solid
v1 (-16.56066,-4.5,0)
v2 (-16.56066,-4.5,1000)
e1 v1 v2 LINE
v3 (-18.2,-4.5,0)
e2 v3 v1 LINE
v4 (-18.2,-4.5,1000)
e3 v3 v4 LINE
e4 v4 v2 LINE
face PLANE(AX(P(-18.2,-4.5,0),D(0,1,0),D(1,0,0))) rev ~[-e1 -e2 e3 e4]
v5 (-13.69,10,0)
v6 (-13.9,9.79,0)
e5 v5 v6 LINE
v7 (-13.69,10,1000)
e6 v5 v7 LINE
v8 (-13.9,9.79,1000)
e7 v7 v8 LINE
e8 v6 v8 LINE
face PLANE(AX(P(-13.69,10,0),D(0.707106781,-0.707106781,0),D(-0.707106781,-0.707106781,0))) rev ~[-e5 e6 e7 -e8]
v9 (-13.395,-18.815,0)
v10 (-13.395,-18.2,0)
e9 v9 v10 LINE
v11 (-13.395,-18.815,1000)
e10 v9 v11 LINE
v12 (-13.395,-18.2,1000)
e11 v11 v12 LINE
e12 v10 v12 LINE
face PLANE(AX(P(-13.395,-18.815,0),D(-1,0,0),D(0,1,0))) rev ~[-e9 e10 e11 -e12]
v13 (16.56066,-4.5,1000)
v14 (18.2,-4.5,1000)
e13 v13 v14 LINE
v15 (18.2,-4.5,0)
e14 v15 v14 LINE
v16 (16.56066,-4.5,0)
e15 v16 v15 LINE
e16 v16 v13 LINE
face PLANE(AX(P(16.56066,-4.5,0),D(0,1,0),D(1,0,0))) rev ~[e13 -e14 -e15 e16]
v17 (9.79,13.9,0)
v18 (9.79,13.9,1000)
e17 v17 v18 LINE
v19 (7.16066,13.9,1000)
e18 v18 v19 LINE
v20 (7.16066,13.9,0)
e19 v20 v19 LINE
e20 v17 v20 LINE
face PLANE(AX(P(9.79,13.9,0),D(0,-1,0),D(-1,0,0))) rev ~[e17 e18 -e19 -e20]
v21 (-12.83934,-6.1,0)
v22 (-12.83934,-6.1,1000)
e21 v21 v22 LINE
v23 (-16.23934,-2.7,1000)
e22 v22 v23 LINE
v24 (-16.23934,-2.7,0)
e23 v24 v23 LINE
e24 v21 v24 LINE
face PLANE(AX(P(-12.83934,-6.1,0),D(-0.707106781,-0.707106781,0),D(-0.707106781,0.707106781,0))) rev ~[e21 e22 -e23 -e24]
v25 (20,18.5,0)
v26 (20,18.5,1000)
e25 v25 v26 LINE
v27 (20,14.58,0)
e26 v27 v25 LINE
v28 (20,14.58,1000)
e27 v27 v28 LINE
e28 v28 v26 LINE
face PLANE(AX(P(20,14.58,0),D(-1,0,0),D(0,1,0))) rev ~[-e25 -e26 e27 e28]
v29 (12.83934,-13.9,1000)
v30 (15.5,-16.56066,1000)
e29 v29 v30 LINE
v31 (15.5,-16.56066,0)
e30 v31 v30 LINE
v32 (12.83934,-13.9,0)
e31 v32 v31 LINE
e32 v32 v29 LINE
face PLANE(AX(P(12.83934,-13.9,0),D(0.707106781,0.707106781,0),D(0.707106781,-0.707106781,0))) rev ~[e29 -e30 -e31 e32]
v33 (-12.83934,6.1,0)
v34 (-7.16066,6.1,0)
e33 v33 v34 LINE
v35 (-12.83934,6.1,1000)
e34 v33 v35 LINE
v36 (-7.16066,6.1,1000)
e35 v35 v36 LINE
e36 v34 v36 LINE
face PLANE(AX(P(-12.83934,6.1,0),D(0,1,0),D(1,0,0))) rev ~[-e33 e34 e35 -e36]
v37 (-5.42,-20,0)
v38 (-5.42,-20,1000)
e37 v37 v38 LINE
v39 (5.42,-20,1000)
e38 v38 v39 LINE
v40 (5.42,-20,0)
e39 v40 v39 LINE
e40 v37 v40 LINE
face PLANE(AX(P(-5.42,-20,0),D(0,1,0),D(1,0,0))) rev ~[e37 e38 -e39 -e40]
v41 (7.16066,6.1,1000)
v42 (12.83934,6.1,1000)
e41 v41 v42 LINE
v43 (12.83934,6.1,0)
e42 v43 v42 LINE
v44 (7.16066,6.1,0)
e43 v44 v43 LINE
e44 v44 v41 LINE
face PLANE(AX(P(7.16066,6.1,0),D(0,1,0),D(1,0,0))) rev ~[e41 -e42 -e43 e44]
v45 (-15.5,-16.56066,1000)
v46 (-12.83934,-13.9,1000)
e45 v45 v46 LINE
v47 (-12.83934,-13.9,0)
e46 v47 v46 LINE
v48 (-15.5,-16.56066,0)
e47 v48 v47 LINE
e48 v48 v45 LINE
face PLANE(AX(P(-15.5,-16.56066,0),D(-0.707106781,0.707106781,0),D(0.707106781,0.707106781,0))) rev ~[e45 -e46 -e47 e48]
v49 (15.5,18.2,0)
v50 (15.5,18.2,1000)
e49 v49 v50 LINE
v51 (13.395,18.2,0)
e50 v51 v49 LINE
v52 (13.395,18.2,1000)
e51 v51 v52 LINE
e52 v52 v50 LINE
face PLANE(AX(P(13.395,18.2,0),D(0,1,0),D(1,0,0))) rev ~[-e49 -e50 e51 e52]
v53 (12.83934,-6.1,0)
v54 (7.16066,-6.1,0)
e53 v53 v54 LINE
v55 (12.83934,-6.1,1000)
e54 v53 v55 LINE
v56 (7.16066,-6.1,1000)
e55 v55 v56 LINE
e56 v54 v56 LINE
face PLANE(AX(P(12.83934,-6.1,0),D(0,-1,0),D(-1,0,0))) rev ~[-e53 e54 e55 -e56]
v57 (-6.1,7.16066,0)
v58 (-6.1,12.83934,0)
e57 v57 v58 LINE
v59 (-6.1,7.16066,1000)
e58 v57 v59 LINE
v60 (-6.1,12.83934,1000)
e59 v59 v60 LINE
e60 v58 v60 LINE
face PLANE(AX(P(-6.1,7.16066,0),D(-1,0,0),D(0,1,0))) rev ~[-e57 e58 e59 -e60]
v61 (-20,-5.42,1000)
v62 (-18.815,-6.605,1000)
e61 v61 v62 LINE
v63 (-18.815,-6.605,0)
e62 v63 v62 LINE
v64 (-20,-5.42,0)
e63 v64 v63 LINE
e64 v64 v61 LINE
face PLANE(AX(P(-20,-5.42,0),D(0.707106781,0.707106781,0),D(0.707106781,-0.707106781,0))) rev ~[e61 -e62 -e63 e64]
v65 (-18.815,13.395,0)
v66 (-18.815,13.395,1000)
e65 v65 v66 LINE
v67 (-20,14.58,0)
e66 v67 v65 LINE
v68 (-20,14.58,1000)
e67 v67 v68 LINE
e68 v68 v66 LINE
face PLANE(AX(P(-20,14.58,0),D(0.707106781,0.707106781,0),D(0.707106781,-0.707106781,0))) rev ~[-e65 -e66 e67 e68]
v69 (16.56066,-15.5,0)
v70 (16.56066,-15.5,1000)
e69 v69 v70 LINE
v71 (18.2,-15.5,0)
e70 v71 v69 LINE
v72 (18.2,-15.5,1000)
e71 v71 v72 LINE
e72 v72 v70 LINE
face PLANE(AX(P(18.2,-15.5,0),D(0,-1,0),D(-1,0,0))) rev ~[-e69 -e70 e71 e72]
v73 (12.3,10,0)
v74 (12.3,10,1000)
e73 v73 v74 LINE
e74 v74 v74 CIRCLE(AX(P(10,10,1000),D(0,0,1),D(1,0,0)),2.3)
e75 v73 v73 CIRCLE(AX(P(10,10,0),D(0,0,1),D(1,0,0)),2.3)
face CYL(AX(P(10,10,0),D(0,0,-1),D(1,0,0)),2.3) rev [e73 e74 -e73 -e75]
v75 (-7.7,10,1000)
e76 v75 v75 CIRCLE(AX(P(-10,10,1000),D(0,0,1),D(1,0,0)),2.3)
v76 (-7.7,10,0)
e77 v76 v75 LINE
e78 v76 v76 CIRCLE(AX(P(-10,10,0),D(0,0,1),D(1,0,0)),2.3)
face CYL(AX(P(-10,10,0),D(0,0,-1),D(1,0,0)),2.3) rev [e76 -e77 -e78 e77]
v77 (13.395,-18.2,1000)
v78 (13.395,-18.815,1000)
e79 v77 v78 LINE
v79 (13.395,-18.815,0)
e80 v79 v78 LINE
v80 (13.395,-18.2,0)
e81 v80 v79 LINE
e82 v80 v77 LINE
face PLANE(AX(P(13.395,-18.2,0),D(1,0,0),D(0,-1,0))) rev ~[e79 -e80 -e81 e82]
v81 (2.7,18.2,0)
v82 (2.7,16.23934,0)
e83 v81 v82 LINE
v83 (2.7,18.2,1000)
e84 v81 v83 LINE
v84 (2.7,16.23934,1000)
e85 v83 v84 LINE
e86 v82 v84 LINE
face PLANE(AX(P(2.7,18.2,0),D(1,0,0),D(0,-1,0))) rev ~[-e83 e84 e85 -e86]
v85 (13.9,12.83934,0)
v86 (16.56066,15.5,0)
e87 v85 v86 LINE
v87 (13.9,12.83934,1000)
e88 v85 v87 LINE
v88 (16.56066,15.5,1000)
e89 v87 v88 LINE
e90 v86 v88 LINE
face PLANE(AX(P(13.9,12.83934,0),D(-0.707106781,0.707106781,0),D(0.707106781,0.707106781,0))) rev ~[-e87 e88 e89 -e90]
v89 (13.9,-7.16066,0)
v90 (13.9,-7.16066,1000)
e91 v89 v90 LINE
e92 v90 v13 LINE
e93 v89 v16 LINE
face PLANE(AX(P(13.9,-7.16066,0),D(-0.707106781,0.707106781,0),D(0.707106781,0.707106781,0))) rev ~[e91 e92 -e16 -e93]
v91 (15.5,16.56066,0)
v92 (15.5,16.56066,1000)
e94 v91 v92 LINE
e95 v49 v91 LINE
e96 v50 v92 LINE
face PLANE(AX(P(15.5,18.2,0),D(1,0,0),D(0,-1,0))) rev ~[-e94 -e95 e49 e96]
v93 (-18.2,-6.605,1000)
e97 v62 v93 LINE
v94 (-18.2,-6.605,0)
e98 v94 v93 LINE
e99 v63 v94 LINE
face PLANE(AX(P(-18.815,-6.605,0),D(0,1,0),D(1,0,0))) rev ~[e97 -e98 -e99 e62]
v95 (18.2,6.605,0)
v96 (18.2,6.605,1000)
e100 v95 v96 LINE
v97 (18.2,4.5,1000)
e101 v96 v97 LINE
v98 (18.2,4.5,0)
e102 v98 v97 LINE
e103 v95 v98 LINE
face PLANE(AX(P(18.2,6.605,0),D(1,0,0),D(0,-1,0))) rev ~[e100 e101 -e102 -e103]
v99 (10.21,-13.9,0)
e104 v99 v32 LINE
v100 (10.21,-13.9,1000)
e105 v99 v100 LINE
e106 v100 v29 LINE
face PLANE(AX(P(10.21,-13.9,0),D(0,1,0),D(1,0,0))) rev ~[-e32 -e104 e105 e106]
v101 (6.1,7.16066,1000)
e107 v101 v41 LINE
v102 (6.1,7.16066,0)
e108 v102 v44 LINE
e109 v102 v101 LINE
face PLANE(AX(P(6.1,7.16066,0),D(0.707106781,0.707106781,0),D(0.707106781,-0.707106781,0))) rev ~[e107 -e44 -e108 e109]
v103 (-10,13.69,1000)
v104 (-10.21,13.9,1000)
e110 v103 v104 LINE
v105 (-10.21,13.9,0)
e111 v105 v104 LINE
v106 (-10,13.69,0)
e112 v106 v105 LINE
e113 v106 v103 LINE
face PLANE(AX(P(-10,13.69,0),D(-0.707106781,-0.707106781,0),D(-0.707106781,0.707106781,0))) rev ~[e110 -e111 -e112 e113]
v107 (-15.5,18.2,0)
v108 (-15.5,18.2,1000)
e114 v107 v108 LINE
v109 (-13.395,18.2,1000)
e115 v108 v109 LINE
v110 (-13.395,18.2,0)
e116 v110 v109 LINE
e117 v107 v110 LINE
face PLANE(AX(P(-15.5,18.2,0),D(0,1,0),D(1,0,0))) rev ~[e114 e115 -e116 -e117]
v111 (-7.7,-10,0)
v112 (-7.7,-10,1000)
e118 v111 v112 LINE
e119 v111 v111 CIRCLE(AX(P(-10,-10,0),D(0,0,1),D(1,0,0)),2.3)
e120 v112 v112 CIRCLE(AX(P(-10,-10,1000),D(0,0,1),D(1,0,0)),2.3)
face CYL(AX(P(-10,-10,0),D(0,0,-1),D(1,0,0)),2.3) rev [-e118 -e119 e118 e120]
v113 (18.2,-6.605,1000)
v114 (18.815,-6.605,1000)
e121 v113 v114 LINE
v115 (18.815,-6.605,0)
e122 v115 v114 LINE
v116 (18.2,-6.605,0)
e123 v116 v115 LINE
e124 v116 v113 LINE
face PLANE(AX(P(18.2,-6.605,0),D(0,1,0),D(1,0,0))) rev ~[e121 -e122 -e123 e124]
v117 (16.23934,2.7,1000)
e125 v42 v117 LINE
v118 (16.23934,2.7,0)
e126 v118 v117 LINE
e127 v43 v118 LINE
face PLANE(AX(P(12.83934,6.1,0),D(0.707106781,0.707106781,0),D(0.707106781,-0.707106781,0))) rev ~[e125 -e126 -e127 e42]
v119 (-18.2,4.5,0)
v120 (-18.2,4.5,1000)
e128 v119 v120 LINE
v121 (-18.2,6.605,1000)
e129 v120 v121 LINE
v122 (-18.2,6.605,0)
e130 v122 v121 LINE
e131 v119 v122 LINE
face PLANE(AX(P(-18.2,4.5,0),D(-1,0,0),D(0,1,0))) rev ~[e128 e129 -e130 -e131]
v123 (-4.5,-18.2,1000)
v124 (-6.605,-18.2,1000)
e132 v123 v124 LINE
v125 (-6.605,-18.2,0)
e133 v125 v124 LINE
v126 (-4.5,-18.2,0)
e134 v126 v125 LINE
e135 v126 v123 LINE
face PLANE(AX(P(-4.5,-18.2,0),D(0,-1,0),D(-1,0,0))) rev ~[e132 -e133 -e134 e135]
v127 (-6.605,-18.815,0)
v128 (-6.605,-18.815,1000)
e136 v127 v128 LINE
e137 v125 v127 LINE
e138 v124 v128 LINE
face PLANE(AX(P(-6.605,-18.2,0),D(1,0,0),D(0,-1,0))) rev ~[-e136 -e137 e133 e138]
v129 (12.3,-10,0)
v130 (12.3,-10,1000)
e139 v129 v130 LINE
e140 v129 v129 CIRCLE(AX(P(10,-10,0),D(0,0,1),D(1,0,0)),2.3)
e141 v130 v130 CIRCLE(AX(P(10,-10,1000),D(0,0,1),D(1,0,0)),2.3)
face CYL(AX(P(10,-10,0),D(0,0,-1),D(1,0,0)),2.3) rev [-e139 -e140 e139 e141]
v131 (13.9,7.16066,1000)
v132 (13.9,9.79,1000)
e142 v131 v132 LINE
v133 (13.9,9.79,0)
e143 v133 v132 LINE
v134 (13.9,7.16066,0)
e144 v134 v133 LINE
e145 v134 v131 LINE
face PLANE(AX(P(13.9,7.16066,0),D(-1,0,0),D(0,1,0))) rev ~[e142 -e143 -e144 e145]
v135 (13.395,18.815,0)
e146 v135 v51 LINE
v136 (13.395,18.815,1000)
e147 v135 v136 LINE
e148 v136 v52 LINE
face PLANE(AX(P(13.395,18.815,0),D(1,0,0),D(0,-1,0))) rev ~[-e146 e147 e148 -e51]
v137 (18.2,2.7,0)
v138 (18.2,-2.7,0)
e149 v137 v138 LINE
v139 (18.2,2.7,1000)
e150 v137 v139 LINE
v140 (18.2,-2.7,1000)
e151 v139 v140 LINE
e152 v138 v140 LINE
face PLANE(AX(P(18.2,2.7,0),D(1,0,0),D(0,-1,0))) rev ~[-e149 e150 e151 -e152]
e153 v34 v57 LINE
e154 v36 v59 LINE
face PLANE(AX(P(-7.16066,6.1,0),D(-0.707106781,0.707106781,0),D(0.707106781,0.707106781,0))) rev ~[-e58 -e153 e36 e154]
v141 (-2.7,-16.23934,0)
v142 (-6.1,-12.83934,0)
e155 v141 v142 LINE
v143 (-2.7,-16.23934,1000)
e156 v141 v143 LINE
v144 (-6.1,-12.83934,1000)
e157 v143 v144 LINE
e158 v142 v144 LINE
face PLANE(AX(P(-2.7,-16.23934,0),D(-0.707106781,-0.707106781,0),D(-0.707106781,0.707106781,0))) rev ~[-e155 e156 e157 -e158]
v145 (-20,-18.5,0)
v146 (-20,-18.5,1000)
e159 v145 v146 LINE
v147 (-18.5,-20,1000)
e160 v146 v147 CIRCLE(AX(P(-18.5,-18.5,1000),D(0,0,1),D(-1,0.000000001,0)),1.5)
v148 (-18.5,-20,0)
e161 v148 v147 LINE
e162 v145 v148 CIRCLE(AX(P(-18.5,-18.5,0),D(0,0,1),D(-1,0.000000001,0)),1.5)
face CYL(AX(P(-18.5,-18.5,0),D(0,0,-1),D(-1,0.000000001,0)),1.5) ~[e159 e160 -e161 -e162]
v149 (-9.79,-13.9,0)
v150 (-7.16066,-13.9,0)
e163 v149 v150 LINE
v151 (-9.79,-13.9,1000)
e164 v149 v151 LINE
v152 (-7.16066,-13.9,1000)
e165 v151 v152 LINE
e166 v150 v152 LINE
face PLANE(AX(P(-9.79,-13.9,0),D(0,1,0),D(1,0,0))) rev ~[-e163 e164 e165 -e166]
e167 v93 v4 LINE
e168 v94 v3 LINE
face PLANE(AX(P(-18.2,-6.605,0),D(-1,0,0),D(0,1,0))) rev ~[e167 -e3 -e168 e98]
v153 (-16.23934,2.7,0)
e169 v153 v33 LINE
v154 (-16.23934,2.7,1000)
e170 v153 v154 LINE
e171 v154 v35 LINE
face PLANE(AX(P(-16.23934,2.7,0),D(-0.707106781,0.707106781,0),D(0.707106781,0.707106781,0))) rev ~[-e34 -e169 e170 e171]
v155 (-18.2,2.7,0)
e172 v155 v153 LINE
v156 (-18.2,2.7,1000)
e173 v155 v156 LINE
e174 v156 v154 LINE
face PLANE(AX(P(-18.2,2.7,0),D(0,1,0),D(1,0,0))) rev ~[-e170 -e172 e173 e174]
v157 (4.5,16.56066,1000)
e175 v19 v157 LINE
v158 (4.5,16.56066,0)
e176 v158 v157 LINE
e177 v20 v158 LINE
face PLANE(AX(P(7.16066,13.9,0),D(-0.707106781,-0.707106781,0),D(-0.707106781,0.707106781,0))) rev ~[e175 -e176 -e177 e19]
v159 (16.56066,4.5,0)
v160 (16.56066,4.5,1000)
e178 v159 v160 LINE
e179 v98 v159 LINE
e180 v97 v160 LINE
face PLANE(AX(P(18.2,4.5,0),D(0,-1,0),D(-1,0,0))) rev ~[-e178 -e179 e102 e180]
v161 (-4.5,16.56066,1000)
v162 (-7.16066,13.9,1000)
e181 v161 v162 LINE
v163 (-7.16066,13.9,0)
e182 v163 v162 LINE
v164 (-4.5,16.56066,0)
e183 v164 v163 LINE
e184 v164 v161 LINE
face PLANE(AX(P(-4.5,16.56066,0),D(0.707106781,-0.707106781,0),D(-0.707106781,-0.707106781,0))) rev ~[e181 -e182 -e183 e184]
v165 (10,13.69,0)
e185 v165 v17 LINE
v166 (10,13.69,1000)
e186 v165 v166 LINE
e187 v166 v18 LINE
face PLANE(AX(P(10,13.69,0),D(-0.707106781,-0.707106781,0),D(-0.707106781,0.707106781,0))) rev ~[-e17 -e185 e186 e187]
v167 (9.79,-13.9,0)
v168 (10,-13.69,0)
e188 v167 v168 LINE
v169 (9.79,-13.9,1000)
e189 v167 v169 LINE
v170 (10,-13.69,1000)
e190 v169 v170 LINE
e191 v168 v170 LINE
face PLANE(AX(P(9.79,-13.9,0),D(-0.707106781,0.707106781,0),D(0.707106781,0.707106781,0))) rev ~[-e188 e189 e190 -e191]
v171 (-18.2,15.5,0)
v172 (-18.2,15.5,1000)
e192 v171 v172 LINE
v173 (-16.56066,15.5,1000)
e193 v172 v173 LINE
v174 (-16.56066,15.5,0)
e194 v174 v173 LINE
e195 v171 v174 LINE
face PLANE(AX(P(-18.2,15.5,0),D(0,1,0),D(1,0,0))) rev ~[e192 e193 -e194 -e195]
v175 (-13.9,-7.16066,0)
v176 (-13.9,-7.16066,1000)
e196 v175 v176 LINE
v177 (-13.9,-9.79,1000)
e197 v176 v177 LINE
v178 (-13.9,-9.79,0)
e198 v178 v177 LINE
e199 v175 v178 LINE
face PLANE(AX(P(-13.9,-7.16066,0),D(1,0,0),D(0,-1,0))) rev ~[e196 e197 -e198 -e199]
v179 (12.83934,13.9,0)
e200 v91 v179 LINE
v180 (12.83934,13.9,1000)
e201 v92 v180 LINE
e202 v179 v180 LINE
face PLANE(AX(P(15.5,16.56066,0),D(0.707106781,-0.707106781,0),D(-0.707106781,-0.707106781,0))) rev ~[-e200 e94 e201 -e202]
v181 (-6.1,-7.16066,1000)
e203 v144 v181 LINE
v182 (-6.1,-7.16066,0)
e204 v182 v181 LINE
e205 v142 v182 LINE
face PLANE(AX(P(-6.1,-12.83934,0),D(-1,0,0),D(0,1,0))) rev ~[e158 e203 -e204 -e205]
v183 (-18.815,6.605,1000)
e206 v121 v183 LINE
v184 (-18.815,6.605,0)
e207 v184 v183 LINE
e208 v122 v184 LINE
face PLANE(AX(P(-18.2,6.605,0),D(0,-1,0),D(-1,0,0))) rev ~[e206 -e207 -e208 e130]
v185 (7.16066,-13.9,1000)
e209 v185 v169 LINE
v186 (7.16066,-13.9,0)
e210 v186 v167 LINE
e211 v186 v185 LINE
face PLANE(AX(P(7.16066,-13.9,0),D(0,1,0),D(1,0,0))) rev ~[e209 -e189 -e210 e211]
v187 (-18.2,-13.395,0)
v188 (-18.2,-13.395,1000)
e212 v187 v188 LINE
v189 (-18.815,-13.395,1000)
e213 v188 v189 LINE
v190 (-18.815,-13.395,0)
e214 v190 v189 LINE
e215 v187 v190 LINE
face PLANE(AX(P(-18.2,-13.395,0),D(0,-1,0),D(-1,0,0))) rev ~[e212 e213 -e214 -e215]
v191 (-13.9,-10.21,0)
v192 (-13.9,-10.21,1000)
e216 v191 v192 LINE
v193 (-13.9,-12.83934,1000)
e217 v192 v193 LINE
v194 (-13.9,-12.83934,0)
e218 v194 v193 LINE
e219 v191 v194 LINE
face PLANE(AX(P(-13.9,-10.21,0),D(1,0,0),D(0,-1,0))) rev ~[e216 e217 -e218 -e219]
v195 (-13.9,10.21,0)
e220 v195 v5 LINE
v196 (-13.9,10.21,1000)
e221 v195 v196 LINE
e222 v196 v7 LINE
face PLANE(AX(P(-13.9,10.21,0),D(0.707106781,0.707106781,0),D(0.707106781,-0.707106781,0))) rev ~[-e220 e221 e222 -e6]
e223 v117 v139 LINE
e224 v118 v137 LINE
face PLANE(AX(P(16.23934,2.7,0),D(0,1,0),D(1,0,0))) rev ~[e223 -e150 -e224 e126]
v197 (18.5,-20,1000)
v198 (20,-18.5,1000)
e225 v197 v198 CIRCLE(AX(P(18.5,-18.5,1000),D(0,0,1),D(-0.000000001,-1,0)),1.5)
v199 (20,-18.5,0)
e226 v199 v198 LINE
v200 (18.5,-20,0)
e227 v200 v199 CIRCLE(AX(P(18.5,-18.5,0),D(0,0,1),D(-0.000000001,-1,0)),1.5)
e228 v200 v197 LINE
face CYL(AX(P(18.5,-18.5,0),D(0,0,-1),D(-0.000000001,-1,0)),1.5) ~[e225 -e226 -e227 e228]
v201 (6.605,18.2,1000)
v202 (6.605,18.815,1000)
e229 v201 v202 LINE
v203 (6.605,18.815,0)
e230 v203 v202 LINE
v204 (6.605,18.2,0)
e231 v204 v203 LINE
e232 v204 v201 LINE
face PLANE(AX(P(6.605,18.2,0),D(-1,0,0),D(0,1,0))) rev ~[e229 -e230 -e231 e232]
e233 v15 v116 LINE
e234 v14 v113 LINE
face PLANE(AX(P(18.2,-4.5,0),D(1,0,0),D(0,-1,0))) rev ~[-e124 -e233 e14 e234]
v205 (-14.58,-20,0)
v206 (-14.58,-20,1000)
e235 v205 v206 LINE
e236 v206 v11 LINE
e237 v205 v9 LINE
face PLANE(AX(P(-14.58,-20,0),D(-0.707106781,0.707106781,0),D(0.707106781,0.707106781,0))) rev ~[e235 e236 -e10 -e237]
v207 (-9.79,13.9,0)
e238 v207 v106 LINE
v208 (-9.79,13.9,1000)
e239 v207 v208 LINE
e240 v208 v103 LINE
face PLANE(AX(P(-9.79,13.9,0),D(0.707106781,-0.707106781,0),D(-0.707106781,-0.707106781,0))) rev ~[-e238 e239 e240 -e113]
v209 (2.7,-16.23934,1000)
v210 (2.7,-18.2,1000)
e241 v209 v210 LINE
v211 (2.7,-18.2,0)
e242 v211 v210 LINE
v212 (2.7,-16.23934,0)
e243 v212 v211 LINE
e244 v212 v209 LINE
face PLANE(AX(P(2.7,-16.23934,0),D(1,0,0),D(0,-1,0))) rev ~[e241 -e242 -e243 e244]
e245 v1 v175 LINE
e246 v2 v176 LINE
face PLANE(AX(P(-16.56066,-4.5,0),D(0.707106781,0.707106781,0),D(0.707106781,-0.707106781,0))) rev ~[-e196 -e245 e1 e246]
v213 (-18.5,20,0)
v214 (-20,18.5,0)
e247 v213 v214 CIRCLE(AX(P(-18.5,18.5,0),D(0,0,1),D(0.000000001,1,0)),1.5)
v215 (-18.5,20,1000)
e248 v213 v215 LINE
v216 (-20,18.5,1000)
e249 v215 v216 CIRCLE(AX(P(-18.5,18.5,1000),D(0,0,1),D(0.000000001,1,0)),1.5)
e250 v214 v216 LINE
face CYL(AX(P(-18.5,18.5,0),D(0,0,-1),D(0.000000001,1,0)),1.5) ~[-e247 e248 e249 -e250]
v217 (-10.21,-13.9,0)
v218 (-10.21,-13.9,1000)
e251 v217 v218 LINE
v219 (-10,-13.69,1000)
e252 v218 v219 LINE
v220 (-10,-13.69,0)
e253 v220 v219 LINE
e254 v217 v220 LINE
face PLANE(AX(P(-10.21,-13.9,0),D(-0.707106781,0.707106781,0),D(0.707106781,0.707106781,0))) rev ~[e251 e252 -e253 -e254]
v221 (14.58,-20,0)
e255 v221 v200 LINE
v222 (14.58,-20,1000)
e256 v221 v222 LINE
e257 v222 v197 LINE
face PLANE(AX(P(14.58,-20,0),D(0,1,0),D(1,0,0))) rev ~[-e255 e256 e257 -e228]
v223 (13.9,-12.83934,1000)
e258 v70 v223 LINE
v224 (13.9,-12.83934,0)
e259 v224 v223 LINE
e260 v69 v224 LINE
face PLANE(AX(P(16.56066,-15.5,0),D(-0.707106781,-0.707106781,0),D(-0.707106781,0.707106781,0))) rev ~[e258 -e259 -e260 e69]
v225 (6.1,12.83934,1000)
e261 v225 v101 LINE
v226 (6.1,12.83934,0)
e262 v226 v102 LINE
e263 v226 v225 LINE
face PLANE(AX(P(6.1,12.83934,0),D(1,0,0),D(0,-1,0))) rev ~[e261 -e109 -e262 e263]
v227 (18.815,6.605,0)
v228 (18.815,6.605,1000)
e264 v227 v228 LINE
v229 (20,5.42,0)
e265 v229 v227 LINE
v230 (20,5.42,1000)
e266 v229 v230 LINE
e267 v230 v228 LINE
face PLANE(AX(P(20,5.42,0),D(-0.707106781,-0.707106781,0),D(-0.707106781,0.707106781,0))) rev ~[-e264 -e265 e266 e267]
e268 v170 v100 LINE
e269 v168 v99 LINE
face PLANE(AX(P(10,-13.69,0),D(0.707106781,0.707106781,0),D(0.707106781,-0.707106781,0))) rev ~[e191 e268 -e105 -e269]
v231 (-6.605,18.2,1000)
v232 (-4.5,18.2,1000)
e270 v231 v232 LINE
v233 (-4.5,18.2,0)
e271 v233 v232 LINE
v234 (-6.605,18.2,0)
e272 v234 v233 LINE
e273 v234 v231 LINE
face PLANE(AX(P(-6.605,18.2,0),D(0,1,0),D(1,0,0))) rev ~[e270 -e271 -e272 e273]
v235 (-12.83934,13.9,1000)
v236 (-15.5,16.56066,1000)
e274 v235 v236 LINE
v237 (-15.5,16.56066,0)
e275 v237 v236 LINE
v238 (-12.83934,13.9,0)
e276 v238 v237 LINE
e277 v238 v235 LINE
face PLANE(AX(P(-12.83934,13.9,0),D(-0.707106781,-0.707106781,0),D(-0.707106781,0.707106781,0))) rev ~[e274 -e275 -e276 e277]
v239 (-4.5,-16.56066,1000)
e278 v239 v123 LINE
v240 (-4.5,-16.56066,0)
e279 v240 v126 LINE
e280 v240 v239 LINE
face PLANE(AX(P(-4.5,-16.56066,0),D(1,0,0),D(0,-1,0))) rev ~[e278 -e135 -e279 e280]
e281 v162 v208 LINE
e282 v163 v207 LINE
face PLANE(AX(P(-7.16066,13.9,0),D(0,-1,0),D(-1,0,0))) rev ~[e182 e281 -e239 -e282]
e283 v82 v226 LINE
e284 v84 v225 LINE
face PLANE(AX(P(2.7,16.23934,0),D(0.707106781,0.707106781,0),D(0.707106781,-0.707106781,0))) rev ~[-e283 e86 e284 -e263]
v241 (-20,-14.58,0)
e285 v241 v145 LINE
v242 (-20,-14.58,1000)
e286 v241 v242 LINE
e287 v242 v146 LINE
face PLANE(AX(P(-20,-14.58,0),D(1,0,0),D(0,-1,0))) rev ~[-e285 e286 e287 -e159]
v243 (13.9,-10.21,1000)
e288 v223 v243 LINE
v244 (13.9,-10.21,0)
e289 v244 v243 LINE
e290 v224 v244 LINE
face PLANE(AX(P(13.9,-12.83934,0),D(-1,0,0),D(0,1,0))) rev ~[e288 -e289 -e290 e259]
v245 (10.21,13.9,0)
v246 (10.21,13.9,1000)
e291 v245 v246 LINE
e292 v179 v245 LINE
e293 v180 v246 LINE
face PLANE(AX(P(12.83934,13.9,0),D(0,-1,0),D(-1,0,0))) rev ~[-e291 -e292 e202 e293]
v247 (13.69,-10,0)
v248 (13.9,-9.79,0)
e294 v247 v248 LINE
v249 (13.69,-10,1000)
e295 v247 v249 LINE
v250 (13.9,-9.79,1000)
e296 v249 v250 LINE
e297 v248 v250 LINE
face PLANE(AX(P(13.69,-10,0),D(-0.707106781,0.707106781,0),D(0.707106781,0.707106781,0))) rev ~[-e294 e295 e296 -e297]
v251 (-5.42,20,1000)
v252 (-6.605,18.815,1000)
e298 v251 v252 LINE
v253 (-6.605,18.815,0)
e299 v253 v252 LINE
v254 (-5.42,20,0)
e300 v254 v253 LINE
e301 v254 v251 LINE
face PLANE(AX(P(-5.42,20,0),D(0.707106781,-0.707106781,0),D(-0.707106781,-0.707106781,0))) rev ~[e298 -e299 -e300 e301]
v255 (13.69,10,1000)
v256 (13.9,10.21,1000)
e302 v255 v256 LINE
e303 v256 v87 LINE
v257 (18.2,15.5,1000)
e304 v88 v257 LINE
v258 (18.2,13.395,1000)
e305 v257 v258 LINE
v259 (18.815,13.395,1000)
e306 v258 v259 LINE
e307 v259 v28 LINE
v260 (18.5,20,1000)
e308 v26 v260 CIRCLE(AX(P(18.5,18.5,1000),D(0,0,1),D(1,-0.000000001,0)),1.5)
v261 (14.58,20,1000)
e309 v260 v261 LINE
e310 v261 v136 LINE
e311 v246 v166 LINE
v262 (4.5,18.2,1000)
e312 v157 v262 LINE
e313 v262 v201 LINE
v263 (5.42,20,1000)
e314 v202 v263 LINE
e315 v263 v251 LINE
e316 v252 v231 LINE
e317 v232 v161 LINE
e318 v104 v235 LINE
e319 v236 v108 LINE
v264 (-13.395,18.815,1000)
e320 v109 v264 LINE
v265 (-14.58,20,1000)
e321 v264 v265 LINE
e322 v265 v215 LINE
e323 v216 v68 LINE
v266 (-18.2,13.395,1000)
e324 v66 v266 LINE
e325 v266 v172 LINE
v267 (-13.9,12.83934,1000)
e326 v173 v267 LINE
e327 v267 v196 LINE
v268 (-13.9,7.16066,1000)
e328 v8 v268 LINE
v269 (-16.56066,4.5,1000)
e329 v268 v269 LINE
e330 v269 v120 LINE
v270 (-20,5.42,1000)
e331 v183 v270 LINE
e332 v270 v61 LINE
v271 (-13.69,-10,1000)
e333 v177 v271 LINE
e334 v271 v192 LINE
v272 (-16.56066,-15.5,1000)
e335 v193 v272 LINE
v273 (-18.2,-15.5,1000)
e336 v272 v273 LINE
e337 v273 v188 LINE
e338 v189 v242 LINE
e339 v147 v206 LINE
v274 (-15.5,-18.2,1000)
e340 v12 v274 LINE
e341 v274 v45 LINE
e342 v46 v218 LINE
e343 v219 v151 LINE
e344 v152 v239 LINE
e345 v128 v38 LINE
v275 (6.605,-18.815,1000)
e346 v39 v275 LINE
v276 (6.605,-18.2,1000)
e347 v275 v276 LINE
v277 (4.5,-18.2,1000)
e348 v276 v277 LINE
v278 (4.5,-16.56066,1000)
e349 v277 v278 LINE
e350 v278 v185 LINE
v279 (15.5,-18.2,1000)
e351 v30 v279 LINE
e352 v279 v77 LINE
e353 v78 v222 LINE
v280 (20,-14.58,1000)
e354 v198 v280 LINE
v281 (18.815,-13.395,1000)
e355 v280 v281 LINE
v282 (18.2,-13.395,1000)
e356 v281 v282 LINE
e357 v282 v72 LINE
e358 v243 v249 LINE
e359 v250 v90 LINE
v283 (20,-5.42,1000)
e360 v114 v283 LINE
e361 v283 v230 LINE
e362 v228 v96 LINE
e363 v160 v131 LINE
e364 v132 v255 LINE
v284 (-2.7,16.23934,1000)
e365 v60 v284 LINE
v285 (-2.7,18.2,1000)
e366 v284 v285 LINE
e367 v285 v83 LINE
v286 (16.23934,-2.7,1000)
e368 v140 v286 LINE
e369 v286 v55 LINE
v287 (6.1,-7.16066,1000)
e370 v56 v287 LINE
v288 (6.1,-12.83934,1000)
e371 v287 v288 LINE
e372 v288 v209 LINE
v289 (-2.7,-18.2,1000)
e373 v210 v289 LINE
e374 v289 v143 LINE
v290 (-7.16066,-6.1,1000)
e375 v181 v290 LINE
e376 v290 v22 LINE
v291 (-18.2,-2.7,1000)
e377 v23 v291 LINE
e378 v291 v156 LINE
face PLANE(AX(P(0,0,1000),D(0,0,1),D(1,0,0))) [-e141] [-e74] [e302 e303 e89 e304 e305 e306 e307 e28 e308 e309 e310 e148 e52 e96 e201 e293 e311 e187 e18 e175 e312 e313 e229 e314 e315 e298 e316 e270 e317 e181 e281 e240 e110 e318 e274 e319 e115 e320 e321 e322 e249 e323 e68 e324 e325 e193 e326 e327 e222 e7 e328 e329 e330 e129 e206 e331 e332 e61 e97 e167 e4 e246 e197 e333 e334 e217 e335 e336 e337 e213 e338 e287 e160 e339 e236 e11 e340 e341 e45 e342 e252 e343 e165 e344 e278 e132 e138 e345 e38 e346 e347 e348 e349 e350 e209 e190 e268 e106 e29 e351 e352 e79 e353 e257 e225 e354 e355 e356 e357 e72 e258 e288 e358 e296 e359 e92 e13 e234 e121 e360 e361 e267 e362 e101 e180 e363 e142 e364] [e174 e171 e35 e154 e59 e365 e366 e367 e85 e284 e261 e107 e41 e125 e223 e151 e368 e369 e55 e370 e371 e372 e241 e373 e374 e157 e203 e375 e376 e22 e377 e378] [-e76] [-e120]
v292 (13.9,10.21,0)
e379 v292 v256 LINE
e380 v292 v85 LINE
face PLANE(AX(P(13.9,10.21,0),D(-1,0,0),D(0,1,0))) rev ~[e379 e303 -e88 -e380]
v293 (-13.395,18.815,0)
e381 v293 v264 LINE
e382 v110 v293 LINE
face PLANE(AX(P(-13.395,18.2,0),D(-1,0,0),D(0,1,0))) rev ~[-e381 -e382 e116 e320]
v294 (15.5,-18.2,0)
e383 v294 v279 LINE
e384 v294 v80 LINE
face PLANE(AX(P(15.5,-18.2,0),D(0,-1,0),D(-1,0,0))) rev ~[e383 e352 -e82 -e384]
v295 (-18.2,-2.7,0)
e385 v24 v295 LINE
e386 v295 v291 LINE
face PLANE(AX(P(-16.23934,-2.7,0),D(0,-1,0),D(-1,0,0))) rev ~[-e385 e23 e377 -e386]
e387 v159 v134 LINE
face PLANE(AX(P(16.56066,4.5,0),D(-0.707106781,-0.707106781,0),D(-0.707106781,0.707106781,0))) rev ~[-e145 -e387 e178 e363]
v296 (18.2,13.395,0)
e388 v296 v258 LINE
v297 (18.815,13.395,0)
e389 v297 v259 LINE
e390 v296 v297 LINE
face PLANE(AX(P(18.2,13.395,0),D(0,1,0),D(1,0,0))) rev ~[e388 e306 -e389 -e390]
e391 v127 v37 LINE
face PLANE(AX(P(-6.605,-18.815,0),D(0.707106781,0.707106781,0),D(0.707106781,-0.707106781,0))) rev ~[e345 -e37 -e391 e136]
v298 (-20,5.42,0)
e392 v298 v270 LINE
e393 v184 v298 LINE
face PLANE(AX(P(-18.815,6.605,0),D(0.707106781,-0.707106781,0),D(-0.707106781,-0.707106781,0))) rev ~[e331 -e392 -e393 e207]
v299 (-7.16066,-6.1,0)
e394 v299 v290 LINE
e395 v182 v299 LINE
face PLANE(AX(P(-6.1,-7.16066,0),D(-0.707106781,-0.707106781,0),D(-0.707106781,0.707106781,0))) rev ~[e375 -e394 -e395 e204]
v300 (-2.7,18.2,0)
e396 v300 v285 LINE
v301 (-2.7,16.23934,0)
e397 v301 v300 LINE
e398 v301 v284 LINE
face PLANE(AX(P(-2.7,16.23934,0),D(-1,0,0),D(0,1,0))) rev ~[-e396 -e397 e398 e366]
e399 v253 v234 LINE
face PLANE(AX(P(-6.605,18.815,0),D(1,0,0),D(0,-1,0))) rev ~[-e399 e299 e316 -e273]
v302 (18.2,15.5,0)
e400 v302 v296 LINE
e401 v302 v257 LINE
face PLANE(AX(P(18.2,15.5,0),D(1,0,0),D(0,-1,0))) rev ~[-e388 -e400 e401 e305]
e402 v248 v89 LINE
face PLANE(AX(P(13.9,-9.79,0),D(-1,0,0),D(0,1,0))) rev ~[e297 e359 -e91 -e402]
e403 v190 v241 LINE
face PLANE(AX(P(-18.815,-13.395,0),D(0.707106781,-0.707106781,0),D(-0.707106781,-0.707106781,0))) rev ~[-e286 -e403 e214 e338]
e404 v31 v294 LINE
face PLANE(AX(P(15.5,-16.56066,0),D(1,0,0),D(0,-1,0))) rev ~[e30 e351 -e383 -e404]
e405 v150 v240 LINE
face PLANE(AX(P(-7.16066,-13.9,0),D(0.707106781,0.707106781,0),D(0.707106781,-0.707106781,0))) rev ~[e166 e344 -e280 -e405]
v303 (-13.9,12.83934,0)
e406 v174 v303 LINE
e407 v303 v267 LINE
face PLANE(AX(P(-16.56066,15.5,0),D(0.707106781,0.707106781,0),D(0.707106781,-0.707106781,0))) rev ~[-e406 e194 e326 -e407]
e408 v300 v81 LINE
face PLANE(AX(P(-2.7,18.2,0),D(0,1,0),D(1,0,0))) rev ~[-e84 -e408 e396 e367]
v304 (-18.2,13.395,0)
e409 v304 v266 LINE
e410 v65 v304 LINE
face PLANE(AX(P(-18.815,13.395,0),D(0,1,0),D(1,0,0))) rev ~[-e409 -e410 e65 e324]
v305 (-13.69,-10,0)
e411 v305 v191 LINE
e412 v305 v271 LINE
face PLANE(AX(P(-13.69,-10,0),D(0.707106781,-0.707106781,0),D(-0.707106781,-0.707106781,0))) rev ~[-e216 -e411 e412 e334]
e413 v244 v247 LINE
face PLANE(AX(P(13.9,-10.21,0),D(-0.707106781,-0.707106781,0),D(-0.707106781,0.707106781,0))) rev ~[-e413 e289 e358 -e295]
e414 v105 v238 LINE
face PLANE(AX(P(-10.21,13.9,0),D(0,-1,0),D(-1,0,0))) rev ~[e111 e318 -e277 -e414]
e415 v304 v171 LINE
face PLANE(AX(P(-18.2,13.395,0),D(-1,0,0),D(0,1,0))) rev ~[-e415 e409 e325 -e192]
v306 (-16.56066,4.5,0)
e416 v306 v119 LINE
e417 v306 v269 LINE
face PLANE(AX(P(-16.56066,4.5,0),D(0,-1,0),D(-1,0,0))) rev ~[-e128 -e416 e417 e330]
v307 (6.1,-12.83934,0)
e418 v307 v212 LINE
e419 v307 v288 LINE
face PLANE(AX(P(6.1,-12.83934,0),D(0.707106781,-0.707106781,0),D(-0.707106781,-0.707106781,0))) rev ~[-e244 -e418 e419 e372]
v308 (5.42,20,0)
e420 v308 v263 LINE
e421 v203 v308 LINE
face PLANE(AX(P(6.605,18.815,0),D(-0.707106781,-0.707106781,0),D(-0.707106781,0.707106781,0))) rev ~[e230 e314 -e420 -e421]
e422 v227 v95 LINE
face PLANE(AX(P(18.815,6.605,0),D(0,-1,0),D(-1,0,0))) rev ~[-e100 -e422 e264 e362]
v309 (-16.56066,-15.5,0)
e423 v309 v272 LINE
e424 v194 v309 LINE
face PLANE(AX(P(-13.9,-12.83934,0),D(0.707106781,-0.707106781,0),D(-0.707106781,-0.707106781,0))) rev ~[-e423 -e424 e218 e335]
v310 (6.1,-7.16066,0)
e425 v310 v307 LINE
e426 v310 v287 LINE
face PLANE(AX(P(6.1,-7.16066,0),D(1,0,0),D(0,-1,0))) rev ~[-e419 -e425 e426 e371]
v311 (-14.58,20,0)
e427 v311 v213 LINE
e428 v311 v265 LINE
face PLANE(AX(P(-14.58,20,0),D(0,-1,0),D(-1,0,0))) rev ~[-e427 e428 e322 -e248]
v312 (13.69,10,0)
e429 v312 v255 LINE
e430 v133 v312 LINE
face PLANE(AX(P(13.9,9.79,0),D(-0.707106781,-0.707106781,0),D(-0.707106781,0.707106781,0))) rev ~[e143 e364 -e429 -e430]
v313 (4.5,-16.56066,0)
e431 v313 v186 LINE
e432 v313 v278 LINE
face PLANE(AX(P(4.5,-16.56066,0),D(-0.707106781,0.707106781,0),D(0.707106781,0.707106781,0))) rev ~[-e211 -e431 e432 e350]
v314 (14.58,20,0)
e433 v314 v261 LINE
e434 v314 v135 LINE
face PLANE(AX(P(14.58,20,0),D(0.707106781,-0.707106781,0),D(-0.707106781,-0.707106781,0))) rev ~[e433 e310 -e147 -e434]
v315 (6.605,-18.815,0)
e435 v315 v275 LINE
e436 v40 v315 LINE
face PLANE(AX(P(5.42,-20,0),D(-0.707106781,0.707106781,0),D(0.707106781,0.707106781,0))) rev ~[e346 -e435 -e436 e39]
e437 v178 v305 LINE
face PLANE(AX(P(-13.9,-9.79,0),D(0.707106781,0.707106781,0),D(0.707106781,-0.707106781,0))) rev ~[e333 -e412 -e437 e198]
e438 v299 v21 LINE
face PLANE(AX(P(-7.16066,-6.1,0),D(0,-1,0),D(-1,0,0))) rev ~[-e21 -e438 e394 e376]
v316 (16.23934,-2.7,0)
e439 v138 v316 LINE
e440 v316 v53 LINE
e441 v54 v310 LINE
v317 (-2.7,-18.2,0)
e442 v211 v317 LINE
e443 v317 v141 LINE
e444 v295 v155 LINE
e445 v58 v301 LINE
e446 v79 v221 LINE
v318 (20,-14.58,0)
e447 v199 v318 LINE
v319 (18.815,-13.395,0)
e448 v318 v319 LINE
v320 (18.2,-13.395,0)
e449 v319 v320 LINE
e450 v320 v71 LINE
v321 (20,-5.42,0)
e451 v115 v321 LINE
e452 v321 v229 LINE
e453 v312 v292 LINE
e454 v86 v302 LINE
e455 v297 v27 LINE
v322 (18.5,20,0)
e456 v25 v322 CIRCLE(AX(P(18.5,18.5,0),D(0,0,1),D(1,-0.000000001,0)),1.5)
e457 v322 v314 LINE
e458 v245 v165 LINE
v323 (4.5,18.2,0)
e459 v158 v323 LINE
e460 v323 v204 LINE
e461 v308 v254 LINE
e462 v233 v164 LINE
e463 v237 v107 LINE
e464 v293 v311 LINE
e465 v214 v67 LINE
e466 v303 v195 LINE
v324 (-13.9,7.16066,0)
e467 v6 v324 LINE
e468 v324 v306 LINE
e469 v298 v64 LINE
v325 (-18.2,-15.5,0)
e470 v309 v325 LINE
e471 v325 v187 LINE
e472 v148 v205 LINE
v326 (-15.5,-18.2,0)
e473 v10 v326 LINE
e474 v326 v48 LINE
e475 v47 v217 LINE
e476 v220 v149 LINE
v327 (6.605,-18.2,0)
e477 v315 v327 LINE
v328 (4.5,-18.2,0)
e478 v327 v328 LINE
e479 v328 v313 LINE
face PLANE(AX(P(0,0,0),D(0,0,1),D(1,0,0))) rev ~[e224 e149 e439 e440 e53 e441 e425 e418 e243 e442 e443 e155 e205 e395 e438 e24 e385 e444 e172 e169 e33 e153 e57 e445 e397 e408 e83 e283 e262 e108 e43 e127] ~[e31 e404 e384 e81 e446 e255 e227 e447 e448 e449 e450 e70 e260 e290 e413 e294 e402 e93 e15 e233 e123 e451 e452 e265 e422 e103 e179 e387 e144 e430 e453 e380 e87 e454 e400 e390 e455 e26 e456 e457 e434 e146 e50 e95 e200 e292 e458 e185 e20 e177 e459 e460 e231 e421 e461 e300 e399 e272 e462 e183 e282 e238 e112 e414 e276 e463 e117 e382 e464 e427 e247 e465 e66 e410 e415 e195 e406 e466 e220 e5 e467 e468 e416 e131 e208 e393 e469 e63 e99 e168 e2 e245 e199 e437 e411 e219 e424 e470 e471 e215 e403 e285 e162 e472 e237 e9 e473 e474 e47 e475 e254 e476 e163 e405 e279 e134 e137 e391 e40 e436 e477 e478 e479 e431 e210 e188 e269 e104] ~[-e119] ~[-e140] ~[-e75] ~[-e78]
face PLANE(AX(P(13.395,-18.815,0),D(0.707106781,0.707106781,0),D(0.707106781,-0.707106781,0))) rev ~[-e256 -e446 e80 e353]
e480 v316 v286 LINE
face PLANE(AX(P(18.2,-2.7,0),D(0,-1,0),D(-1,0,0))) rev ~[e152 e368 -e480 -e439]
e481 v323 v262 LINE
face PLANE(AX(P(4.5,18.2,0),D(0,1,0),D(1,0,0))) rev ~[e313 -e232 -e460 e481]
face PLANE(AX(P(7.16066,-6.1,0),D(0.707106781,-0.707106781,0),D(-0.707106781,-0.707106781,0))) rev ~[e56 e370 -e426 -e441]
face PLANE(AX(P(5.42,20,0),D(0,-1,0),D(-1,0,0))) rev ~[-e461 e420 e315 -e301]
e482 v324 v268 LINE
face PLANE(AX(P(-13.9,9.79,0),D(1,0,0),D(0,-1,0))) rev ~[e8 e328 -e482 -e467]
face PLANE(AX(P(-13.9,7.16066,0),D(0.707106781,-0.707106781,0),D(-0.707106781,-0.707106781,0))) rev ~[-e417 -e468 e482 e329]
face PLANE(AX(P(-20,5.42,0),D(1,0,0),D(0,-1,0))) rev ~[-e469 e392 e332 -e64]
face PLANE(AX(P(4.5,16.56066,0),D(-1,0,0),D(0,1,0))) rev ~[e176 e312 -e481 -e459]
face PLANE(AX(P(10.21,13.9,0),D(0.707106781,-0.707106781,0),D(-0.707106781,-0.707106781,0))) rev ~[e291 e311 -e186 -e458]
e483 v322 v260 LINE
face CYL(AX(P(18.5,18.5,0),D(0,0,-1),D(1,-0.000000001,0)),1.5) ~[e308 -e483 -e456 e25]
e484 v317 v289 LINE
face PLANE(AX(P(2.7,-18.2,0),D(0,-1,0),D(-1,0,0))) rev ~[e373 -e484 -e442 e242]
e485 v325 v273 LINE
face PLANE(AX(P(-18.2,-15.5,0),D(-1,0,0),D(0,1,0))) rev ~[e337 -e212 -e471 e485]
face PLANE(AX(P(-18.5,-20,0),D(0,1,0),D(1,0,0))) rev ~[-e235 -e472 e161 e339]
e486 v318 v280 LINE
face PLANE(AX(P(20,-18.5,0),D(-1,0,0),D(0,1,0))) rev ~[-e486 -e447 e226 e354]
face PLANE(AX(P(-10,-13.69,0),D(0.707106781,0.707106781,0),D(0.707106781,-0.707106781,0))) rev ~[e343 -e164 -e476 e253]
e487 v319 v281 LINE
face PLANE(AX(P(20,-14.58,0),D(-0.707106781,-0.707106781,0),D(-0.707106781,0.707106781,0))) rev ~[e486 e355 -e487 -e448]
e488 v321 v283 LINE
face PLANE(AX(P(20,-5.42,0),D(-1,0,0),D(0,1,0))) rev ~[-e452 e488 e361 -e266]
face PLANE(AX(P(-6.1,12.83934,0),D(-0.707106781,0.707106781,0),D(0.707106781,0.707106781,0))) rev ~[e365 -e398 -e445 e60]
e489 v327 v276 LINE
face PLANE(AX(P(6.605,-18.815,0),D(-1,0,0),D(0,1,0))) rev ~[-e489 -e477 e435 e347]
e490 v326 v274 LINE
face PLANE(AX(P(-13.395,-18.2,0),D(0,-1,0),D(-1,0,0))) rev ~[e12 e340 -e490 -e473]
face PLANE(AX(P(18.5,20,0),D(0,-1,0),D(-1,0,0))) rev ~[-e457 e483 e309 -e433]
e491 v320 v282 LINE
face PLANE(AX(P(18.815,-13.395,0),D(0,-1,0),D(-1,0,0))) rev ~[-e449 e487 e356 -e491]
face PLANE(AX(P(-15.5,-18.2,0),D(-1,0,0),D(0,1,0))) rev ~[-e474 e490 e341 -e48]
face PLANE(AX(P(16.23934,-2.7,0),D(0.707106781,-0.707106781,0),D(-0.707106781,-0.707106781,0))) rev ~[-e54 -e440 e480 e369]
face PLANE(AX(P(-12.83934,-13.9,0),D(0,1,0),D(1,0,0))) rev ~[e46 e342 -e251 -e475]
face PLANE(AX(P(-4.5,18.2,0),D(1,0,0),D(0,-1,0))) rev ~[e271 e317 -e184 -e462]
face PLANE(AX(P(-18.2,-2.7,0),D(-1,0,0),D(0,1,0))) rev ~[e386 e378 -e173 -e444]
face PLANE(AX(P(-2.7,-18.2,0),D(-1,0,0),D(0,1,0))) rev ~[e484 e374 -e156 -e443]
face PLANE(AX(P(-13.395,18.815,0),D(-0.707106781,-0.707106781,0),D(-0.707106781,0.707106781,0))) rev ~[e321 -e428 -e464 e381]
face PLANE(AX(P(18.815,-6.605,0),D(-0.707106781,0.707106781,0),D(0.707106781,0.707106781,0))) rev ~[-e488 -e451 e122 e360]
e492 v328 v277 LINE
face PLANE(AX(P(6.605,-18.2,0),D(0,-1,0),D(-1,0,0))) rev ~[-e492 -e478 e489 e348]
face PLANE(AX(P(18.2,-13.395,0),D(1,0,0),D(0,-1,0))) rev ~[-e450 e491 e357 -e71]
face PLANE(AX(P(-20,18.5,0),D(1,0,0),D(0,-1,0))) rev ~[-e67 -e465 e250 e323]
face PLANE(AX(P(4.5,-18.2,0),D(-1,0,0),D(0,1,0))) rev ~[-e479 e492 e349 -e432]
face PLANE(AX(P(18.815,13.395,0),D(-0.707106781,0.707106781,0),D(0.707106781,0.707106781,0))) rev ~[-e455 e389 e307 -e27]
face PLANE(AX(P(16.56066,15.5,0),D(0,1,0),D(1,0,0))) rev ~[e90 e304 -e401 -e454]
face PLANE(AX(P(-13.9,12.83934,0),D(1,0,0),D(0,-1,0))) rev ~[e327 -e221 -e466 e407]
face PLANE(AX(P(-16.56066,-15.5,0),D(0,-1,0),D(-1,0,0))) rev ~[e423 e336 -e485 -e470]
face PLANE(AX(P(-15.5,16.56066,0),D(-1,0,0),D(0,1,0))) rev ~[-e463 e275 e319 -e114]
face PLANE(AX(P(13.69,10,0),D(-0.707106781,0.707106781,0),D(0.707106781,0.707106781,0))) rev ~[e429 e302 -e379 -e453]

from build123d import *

# Parameters (mm, degrees)
SKETCH1_R           = 2.3
BOSS_EXTRUDE1_DEPTH = 1000


with BuildPart() as part:
    # Sketch1 → Boss-Extrude1 (new body)
    with BuildSketch(Plane.XY):
        with BuildLine():
            Line((14.58, -20), (18.5, -20))
            ThreePointArc((18.5, -20), (19.560660172, -19.560660172), (20, -18.5))
            Line((20, -18.5), (20, -14.58))
            Line((20, -14.58), (18.815, -13.395))
            Line((18.815, -13.395), (18.2, -13.395))
            Line((18.2, -13.395), (18.2, -15.5))
            Line((18.2, -15.5), (16.560660172, -15.5))
            Line((16.560660172, -15.5), (13.9, -12.839339828))
            Line((13.9, -12.839339828), (13.9, -10.21))
            Line((13.9, -10.21), (13.69, -10))
            Line((13.69, -10), (13.9, -9.79))
            Line((13.9, -9.79), (13.9, -7.160660172))
            Line((13.9, -7.160660172), (16.560660172, -4.5))
            Line((16.560660172, -4.5), (18.2, -4.5))
            Line((18.2, -4.5), (18.2, -6.605))
            Line((18.2, -6.605), (18.815, -6.605))
            Line((18.815, -6.605), (20, -5.42))
            Line((20, -5.42), (20, 5.42))
            Line((20, 5.42), (18.815, 6.605))
            Line((18.815, 6.605), (18.2, 6.605))
            Line((18.2, 6.605), (18.2, 4.5))
            Line((18.2, 4.5), (16.560660172, 4.5))
            Line((16.560660172, 4.5), (13.9, 7.160660172))
            Line((13.9, 7.160660172), (13.9, 9.79))
            Line((13.9, 9.79), (13.69, 10))
            Line((13.69, 10), (13.9, 10.21))
            Line((13.9, 10.21), (13.9, 12.839339828))
            Line((13.9, 12.839339828), (16.560660172, 15.5))
            Line((16.560660172, 15.5), (18.2, 15.5))
            Line((18.2, 15.5), (18.2, 13.395))
            Line((18.2, 13.395), (18.815, 13.395))
            Line((18.815, 13.395), (20, 14.58))
            Line((20, 14.58), (20, 18.5))
            ThreePointArc((20, 18.5), (19.560660172, 19.560660172), (18.5, 20))
            Line((18.5, 20), (14.58, 20))
            Line((14.58, 20), (13.395, 18.815))
            Line((13.395, 18.815), (13.395, 18.2))
            Line((13.395, 18.2), (15.5, 18.2))
            Line((15.5, 18.2), (15.5, 16.560660172))
            Line((15.5, 16.560660172), (12.839339828, 13.9))
            Line((12.839339828, 13.9), (10.21, 13.9))
            Line((10.21, 13.9), (10, 13.69))
            Line((10, 13.69), (9.79, 13.9))
            Line((9.79, 13.9), (7.160660172, 13.9))
            Line((7.160660172, 13.9), (4.5, 16.560660172))
            Line((4.5, 16.560660172), (4.5, 18.2))
            Line((4.5, 18.2), (6.605, 18.2))
            Line((6.605, 18.2), (6.605, 18.815))
            Line((6.605, 18.815), (5.42, 20))
            Line((5.42, 20), (-5.42, 20))
            Line((-5.42, 20), (-6.605, 18.815))
            Line((-6.605, 18.815), (-6.605, 18.2))
            Line((-6.605, 18.2), (-4.5, 18.2))
            Line((-4.5, 18.2), (-4.5, 16.560660172))
            Line((-4.5, 16.560660172), (-7.160660172, 13.9))
            Line((-7.160660172, 13.9), (-9.79, 13.9))
            Line((-9.79, 13.9), (-10, 13.69))
            Line((-10, 13.69), (-10.21, 13.9))
            Line((-10.21, 13.9), (-12.839339828, 13.9))
            Line((-12.839339828, 13.9), (-15.5, 16.560660172))
            Line((-15.5, 16.560660172), (-15.5, 18.2))
            Line((-15.5, 18.2), (-13.395, 18.2))
            Line((-13.395, 18.2), (-13.395, 18.815))
            Line((-13.395, 18.815), (-14.58, 20))
            Line((-14.58, 20), (-18.5, 20))
            ThreePointArc((-18.5, 20), (-19.560660172, 19.560660172), (-20, 18.5))
            Line((-20, 18.5), (-20, 14.58))
            Line((-20, 14.58), (-18.815, 13.395))
            Line((-18.815, 13.395), (-18.2, 13.395))
            Line((-18.2, 13.395), (-18.2, 15.5))
            Line((-18.2, 15.5), (-16.560660172, 15.5))
            Line((-16.560660172, 15.5), (-13.9, 12.839339828))
            Line((-13.9, 12.839339828), (-13.9, 10.21))
            Line((-13.9, 10.21), (-13.69, 10))
            Line((-13.69, 10), (-13.9, 9.79))
            Line((-13.9, 9.79), (-13.9, 7.160660172))
            Line((-13.9, 7.160660172), (-16.560660172, 4.5))
            Line((-16.560660172, 4.5), (-18.2, 4.5))
            Line((-18.2, 4.5), (-18.2, 6.605))
            Line((-18.2, 6.605), (-18.815, 6.605))
            Line((-18.815, 6.605), (-20, 5.42))
            Line((-20, 5.42), (-20, -5.42))
            Line((-20, -5.42), (-18.815, -6.605))
            Line((-18.815, -6.605), (-18.2, -6.605))
            Line((-18.2, -6.605), (-18.2, -4.5))
            Line((-18.2, -4.5), (-16.560660172, -4.5))
            Line((-16.560660172, -4.5), (-13.9, -7.160660172))
            Line((-13.9, -7.160660172), (-13.9, -9.79))
            Line((-13.9, -9.79), (-13.69, -10))
            Line((-13.69, -10), (-13.9, -10.21))
            Line((-13.9, -10.21), (-13.9, -12.839339828))
            Line((-13.9, -12.839339828), (-16.560660172, -15.5))
            Line((-16.560660172, -15.5), (-18.2, -15.5))
            Line((-18.2, -15.5), (-18.2, -13.395))
            Line((-18.2, -13.395), (-18.815, -13.395))
            Line((-18.815, -13.395), (-20, -14.58))
            Line((-20, -14.58), (-20, -18.5))
            ThreePointArc((-20, -18.5), (-19.560660172, -19.560660172), (-18.5, -20))
            Line((-18.5, -20), (-14.58, -20))
            Line((-14.58, -20), (-13.395, -18.815))
            Line((-13.395, -18.815), (-13.395, -18.2))
            Line((-13.395, -18.2), (-15.5, -18.2))
            Line((-15.5, -18.2), (-15.5, -16.560660172))
            Line((-15.5, -16.560660172), (-12.839339828, -13.9))
            Line((-12.839339828, -13.9), (-10.21, -13.9))
            Line((-10.21, -13.9), (-10, -13.69))
            Line((-10, -13.69), (-9.79, -13.9))
            Line((-9.79, -13.9), (-7.160660172, -13.9))
            Line((-7.160660172, -13.9), (-4.5, -16.560660172))
            Line((-4.5, -16.560660172), (-4.5, -18.2))
            Line((-4.5, -18.2), (-6.605, -18.2))
            Line((-6.605, -18.2), (-6.605, -18.815))
            Line((-6.605, -18.815), (-5.42, -20))
            Line((-5.42, -20), (5.42, -20))
            Line((5.42, -20), (6.605, -18.815))
            Line((6.605, -18.815), (6.605, -18.2))
            Line((6.605, -18.2), (4.5, -18.2))
            Line((4.5, -18.2), (4.5, -16.560660172))
            Line((4.5, -16.560660172), (7.160660172, -13.9))
            Line((7.160660172, -13.9), (9.79, -13.9))
            Line((9.79, -13.9), (10, -13.69))
            Line((10, -13.69), (10.21, -13.9))
            Line((10.21, -13.9), (12.839339828, -13.9))
            Line((12.839339828, -13.9), (15.5, -16.560660172))
            Line((15.5, -16.560660172), (15.5, -18.2))
            Line((15.5, -18.2), (13.395, -18.2))
            Line((13.395, -18.2), (13.395, -18.815))
            Line((13.395, -18.815), (14.58, -20))
        make_face()
        with Locations((-10, -10)):
            Circle(SKETCH1_R, mode=Mode.SUBTRACT)
        with Locations((10, -10)):
            Circle(SKETCH1_R, mode=Mode.SUBTRACT)
        Polygon((-16.239339828, -2.7), (-18.2, -2.7), (-18.2, 2.7), (-16.239339828, 2.7), (-12.839339828, 6.1), (-7.160660172, 6.1), (-6.1, 7.160660172), (-6.1, 12.839339828), (-2.7, 16.239339828), (-2.7, 18.2), (2.7, 18.2), (2.7, 16.239339828), (6.1, 12.839339828), (6.1, 7.160660172), (7.160660172, 6.1), (12.839339828, 6.1), (16.239339828, 2.7), (18.2, 2.7), (18.2, -2.7), (16.239339828, -2.7), (12.839339828, -6.1), (7.160660172, -6.1), (6.1, -7.160660172), (6.1, -12.839339828), (2.7, -16.239339828), (2.7, -18.2), (-2.7, -18.2), (-2.7, -16.239339828), (-6.1, -12.839339828), (-6.1, -7.160660172), (-7.160660172, -6.1), (-12.839339828, -6.1), align=None, mode=Mode.SUBTRACT)
        with Locations((-10, 10)):
            Circle(SKETCH1_R, mode=Mode.SUBTRACT)
        with Locations((10, 10)):
            Circle(SKETCH1_R, mode=Mode.SUBTRACT)
    extrude(amount=BOSS_EXTRUDE1_DEPTH)


solid = part.part
